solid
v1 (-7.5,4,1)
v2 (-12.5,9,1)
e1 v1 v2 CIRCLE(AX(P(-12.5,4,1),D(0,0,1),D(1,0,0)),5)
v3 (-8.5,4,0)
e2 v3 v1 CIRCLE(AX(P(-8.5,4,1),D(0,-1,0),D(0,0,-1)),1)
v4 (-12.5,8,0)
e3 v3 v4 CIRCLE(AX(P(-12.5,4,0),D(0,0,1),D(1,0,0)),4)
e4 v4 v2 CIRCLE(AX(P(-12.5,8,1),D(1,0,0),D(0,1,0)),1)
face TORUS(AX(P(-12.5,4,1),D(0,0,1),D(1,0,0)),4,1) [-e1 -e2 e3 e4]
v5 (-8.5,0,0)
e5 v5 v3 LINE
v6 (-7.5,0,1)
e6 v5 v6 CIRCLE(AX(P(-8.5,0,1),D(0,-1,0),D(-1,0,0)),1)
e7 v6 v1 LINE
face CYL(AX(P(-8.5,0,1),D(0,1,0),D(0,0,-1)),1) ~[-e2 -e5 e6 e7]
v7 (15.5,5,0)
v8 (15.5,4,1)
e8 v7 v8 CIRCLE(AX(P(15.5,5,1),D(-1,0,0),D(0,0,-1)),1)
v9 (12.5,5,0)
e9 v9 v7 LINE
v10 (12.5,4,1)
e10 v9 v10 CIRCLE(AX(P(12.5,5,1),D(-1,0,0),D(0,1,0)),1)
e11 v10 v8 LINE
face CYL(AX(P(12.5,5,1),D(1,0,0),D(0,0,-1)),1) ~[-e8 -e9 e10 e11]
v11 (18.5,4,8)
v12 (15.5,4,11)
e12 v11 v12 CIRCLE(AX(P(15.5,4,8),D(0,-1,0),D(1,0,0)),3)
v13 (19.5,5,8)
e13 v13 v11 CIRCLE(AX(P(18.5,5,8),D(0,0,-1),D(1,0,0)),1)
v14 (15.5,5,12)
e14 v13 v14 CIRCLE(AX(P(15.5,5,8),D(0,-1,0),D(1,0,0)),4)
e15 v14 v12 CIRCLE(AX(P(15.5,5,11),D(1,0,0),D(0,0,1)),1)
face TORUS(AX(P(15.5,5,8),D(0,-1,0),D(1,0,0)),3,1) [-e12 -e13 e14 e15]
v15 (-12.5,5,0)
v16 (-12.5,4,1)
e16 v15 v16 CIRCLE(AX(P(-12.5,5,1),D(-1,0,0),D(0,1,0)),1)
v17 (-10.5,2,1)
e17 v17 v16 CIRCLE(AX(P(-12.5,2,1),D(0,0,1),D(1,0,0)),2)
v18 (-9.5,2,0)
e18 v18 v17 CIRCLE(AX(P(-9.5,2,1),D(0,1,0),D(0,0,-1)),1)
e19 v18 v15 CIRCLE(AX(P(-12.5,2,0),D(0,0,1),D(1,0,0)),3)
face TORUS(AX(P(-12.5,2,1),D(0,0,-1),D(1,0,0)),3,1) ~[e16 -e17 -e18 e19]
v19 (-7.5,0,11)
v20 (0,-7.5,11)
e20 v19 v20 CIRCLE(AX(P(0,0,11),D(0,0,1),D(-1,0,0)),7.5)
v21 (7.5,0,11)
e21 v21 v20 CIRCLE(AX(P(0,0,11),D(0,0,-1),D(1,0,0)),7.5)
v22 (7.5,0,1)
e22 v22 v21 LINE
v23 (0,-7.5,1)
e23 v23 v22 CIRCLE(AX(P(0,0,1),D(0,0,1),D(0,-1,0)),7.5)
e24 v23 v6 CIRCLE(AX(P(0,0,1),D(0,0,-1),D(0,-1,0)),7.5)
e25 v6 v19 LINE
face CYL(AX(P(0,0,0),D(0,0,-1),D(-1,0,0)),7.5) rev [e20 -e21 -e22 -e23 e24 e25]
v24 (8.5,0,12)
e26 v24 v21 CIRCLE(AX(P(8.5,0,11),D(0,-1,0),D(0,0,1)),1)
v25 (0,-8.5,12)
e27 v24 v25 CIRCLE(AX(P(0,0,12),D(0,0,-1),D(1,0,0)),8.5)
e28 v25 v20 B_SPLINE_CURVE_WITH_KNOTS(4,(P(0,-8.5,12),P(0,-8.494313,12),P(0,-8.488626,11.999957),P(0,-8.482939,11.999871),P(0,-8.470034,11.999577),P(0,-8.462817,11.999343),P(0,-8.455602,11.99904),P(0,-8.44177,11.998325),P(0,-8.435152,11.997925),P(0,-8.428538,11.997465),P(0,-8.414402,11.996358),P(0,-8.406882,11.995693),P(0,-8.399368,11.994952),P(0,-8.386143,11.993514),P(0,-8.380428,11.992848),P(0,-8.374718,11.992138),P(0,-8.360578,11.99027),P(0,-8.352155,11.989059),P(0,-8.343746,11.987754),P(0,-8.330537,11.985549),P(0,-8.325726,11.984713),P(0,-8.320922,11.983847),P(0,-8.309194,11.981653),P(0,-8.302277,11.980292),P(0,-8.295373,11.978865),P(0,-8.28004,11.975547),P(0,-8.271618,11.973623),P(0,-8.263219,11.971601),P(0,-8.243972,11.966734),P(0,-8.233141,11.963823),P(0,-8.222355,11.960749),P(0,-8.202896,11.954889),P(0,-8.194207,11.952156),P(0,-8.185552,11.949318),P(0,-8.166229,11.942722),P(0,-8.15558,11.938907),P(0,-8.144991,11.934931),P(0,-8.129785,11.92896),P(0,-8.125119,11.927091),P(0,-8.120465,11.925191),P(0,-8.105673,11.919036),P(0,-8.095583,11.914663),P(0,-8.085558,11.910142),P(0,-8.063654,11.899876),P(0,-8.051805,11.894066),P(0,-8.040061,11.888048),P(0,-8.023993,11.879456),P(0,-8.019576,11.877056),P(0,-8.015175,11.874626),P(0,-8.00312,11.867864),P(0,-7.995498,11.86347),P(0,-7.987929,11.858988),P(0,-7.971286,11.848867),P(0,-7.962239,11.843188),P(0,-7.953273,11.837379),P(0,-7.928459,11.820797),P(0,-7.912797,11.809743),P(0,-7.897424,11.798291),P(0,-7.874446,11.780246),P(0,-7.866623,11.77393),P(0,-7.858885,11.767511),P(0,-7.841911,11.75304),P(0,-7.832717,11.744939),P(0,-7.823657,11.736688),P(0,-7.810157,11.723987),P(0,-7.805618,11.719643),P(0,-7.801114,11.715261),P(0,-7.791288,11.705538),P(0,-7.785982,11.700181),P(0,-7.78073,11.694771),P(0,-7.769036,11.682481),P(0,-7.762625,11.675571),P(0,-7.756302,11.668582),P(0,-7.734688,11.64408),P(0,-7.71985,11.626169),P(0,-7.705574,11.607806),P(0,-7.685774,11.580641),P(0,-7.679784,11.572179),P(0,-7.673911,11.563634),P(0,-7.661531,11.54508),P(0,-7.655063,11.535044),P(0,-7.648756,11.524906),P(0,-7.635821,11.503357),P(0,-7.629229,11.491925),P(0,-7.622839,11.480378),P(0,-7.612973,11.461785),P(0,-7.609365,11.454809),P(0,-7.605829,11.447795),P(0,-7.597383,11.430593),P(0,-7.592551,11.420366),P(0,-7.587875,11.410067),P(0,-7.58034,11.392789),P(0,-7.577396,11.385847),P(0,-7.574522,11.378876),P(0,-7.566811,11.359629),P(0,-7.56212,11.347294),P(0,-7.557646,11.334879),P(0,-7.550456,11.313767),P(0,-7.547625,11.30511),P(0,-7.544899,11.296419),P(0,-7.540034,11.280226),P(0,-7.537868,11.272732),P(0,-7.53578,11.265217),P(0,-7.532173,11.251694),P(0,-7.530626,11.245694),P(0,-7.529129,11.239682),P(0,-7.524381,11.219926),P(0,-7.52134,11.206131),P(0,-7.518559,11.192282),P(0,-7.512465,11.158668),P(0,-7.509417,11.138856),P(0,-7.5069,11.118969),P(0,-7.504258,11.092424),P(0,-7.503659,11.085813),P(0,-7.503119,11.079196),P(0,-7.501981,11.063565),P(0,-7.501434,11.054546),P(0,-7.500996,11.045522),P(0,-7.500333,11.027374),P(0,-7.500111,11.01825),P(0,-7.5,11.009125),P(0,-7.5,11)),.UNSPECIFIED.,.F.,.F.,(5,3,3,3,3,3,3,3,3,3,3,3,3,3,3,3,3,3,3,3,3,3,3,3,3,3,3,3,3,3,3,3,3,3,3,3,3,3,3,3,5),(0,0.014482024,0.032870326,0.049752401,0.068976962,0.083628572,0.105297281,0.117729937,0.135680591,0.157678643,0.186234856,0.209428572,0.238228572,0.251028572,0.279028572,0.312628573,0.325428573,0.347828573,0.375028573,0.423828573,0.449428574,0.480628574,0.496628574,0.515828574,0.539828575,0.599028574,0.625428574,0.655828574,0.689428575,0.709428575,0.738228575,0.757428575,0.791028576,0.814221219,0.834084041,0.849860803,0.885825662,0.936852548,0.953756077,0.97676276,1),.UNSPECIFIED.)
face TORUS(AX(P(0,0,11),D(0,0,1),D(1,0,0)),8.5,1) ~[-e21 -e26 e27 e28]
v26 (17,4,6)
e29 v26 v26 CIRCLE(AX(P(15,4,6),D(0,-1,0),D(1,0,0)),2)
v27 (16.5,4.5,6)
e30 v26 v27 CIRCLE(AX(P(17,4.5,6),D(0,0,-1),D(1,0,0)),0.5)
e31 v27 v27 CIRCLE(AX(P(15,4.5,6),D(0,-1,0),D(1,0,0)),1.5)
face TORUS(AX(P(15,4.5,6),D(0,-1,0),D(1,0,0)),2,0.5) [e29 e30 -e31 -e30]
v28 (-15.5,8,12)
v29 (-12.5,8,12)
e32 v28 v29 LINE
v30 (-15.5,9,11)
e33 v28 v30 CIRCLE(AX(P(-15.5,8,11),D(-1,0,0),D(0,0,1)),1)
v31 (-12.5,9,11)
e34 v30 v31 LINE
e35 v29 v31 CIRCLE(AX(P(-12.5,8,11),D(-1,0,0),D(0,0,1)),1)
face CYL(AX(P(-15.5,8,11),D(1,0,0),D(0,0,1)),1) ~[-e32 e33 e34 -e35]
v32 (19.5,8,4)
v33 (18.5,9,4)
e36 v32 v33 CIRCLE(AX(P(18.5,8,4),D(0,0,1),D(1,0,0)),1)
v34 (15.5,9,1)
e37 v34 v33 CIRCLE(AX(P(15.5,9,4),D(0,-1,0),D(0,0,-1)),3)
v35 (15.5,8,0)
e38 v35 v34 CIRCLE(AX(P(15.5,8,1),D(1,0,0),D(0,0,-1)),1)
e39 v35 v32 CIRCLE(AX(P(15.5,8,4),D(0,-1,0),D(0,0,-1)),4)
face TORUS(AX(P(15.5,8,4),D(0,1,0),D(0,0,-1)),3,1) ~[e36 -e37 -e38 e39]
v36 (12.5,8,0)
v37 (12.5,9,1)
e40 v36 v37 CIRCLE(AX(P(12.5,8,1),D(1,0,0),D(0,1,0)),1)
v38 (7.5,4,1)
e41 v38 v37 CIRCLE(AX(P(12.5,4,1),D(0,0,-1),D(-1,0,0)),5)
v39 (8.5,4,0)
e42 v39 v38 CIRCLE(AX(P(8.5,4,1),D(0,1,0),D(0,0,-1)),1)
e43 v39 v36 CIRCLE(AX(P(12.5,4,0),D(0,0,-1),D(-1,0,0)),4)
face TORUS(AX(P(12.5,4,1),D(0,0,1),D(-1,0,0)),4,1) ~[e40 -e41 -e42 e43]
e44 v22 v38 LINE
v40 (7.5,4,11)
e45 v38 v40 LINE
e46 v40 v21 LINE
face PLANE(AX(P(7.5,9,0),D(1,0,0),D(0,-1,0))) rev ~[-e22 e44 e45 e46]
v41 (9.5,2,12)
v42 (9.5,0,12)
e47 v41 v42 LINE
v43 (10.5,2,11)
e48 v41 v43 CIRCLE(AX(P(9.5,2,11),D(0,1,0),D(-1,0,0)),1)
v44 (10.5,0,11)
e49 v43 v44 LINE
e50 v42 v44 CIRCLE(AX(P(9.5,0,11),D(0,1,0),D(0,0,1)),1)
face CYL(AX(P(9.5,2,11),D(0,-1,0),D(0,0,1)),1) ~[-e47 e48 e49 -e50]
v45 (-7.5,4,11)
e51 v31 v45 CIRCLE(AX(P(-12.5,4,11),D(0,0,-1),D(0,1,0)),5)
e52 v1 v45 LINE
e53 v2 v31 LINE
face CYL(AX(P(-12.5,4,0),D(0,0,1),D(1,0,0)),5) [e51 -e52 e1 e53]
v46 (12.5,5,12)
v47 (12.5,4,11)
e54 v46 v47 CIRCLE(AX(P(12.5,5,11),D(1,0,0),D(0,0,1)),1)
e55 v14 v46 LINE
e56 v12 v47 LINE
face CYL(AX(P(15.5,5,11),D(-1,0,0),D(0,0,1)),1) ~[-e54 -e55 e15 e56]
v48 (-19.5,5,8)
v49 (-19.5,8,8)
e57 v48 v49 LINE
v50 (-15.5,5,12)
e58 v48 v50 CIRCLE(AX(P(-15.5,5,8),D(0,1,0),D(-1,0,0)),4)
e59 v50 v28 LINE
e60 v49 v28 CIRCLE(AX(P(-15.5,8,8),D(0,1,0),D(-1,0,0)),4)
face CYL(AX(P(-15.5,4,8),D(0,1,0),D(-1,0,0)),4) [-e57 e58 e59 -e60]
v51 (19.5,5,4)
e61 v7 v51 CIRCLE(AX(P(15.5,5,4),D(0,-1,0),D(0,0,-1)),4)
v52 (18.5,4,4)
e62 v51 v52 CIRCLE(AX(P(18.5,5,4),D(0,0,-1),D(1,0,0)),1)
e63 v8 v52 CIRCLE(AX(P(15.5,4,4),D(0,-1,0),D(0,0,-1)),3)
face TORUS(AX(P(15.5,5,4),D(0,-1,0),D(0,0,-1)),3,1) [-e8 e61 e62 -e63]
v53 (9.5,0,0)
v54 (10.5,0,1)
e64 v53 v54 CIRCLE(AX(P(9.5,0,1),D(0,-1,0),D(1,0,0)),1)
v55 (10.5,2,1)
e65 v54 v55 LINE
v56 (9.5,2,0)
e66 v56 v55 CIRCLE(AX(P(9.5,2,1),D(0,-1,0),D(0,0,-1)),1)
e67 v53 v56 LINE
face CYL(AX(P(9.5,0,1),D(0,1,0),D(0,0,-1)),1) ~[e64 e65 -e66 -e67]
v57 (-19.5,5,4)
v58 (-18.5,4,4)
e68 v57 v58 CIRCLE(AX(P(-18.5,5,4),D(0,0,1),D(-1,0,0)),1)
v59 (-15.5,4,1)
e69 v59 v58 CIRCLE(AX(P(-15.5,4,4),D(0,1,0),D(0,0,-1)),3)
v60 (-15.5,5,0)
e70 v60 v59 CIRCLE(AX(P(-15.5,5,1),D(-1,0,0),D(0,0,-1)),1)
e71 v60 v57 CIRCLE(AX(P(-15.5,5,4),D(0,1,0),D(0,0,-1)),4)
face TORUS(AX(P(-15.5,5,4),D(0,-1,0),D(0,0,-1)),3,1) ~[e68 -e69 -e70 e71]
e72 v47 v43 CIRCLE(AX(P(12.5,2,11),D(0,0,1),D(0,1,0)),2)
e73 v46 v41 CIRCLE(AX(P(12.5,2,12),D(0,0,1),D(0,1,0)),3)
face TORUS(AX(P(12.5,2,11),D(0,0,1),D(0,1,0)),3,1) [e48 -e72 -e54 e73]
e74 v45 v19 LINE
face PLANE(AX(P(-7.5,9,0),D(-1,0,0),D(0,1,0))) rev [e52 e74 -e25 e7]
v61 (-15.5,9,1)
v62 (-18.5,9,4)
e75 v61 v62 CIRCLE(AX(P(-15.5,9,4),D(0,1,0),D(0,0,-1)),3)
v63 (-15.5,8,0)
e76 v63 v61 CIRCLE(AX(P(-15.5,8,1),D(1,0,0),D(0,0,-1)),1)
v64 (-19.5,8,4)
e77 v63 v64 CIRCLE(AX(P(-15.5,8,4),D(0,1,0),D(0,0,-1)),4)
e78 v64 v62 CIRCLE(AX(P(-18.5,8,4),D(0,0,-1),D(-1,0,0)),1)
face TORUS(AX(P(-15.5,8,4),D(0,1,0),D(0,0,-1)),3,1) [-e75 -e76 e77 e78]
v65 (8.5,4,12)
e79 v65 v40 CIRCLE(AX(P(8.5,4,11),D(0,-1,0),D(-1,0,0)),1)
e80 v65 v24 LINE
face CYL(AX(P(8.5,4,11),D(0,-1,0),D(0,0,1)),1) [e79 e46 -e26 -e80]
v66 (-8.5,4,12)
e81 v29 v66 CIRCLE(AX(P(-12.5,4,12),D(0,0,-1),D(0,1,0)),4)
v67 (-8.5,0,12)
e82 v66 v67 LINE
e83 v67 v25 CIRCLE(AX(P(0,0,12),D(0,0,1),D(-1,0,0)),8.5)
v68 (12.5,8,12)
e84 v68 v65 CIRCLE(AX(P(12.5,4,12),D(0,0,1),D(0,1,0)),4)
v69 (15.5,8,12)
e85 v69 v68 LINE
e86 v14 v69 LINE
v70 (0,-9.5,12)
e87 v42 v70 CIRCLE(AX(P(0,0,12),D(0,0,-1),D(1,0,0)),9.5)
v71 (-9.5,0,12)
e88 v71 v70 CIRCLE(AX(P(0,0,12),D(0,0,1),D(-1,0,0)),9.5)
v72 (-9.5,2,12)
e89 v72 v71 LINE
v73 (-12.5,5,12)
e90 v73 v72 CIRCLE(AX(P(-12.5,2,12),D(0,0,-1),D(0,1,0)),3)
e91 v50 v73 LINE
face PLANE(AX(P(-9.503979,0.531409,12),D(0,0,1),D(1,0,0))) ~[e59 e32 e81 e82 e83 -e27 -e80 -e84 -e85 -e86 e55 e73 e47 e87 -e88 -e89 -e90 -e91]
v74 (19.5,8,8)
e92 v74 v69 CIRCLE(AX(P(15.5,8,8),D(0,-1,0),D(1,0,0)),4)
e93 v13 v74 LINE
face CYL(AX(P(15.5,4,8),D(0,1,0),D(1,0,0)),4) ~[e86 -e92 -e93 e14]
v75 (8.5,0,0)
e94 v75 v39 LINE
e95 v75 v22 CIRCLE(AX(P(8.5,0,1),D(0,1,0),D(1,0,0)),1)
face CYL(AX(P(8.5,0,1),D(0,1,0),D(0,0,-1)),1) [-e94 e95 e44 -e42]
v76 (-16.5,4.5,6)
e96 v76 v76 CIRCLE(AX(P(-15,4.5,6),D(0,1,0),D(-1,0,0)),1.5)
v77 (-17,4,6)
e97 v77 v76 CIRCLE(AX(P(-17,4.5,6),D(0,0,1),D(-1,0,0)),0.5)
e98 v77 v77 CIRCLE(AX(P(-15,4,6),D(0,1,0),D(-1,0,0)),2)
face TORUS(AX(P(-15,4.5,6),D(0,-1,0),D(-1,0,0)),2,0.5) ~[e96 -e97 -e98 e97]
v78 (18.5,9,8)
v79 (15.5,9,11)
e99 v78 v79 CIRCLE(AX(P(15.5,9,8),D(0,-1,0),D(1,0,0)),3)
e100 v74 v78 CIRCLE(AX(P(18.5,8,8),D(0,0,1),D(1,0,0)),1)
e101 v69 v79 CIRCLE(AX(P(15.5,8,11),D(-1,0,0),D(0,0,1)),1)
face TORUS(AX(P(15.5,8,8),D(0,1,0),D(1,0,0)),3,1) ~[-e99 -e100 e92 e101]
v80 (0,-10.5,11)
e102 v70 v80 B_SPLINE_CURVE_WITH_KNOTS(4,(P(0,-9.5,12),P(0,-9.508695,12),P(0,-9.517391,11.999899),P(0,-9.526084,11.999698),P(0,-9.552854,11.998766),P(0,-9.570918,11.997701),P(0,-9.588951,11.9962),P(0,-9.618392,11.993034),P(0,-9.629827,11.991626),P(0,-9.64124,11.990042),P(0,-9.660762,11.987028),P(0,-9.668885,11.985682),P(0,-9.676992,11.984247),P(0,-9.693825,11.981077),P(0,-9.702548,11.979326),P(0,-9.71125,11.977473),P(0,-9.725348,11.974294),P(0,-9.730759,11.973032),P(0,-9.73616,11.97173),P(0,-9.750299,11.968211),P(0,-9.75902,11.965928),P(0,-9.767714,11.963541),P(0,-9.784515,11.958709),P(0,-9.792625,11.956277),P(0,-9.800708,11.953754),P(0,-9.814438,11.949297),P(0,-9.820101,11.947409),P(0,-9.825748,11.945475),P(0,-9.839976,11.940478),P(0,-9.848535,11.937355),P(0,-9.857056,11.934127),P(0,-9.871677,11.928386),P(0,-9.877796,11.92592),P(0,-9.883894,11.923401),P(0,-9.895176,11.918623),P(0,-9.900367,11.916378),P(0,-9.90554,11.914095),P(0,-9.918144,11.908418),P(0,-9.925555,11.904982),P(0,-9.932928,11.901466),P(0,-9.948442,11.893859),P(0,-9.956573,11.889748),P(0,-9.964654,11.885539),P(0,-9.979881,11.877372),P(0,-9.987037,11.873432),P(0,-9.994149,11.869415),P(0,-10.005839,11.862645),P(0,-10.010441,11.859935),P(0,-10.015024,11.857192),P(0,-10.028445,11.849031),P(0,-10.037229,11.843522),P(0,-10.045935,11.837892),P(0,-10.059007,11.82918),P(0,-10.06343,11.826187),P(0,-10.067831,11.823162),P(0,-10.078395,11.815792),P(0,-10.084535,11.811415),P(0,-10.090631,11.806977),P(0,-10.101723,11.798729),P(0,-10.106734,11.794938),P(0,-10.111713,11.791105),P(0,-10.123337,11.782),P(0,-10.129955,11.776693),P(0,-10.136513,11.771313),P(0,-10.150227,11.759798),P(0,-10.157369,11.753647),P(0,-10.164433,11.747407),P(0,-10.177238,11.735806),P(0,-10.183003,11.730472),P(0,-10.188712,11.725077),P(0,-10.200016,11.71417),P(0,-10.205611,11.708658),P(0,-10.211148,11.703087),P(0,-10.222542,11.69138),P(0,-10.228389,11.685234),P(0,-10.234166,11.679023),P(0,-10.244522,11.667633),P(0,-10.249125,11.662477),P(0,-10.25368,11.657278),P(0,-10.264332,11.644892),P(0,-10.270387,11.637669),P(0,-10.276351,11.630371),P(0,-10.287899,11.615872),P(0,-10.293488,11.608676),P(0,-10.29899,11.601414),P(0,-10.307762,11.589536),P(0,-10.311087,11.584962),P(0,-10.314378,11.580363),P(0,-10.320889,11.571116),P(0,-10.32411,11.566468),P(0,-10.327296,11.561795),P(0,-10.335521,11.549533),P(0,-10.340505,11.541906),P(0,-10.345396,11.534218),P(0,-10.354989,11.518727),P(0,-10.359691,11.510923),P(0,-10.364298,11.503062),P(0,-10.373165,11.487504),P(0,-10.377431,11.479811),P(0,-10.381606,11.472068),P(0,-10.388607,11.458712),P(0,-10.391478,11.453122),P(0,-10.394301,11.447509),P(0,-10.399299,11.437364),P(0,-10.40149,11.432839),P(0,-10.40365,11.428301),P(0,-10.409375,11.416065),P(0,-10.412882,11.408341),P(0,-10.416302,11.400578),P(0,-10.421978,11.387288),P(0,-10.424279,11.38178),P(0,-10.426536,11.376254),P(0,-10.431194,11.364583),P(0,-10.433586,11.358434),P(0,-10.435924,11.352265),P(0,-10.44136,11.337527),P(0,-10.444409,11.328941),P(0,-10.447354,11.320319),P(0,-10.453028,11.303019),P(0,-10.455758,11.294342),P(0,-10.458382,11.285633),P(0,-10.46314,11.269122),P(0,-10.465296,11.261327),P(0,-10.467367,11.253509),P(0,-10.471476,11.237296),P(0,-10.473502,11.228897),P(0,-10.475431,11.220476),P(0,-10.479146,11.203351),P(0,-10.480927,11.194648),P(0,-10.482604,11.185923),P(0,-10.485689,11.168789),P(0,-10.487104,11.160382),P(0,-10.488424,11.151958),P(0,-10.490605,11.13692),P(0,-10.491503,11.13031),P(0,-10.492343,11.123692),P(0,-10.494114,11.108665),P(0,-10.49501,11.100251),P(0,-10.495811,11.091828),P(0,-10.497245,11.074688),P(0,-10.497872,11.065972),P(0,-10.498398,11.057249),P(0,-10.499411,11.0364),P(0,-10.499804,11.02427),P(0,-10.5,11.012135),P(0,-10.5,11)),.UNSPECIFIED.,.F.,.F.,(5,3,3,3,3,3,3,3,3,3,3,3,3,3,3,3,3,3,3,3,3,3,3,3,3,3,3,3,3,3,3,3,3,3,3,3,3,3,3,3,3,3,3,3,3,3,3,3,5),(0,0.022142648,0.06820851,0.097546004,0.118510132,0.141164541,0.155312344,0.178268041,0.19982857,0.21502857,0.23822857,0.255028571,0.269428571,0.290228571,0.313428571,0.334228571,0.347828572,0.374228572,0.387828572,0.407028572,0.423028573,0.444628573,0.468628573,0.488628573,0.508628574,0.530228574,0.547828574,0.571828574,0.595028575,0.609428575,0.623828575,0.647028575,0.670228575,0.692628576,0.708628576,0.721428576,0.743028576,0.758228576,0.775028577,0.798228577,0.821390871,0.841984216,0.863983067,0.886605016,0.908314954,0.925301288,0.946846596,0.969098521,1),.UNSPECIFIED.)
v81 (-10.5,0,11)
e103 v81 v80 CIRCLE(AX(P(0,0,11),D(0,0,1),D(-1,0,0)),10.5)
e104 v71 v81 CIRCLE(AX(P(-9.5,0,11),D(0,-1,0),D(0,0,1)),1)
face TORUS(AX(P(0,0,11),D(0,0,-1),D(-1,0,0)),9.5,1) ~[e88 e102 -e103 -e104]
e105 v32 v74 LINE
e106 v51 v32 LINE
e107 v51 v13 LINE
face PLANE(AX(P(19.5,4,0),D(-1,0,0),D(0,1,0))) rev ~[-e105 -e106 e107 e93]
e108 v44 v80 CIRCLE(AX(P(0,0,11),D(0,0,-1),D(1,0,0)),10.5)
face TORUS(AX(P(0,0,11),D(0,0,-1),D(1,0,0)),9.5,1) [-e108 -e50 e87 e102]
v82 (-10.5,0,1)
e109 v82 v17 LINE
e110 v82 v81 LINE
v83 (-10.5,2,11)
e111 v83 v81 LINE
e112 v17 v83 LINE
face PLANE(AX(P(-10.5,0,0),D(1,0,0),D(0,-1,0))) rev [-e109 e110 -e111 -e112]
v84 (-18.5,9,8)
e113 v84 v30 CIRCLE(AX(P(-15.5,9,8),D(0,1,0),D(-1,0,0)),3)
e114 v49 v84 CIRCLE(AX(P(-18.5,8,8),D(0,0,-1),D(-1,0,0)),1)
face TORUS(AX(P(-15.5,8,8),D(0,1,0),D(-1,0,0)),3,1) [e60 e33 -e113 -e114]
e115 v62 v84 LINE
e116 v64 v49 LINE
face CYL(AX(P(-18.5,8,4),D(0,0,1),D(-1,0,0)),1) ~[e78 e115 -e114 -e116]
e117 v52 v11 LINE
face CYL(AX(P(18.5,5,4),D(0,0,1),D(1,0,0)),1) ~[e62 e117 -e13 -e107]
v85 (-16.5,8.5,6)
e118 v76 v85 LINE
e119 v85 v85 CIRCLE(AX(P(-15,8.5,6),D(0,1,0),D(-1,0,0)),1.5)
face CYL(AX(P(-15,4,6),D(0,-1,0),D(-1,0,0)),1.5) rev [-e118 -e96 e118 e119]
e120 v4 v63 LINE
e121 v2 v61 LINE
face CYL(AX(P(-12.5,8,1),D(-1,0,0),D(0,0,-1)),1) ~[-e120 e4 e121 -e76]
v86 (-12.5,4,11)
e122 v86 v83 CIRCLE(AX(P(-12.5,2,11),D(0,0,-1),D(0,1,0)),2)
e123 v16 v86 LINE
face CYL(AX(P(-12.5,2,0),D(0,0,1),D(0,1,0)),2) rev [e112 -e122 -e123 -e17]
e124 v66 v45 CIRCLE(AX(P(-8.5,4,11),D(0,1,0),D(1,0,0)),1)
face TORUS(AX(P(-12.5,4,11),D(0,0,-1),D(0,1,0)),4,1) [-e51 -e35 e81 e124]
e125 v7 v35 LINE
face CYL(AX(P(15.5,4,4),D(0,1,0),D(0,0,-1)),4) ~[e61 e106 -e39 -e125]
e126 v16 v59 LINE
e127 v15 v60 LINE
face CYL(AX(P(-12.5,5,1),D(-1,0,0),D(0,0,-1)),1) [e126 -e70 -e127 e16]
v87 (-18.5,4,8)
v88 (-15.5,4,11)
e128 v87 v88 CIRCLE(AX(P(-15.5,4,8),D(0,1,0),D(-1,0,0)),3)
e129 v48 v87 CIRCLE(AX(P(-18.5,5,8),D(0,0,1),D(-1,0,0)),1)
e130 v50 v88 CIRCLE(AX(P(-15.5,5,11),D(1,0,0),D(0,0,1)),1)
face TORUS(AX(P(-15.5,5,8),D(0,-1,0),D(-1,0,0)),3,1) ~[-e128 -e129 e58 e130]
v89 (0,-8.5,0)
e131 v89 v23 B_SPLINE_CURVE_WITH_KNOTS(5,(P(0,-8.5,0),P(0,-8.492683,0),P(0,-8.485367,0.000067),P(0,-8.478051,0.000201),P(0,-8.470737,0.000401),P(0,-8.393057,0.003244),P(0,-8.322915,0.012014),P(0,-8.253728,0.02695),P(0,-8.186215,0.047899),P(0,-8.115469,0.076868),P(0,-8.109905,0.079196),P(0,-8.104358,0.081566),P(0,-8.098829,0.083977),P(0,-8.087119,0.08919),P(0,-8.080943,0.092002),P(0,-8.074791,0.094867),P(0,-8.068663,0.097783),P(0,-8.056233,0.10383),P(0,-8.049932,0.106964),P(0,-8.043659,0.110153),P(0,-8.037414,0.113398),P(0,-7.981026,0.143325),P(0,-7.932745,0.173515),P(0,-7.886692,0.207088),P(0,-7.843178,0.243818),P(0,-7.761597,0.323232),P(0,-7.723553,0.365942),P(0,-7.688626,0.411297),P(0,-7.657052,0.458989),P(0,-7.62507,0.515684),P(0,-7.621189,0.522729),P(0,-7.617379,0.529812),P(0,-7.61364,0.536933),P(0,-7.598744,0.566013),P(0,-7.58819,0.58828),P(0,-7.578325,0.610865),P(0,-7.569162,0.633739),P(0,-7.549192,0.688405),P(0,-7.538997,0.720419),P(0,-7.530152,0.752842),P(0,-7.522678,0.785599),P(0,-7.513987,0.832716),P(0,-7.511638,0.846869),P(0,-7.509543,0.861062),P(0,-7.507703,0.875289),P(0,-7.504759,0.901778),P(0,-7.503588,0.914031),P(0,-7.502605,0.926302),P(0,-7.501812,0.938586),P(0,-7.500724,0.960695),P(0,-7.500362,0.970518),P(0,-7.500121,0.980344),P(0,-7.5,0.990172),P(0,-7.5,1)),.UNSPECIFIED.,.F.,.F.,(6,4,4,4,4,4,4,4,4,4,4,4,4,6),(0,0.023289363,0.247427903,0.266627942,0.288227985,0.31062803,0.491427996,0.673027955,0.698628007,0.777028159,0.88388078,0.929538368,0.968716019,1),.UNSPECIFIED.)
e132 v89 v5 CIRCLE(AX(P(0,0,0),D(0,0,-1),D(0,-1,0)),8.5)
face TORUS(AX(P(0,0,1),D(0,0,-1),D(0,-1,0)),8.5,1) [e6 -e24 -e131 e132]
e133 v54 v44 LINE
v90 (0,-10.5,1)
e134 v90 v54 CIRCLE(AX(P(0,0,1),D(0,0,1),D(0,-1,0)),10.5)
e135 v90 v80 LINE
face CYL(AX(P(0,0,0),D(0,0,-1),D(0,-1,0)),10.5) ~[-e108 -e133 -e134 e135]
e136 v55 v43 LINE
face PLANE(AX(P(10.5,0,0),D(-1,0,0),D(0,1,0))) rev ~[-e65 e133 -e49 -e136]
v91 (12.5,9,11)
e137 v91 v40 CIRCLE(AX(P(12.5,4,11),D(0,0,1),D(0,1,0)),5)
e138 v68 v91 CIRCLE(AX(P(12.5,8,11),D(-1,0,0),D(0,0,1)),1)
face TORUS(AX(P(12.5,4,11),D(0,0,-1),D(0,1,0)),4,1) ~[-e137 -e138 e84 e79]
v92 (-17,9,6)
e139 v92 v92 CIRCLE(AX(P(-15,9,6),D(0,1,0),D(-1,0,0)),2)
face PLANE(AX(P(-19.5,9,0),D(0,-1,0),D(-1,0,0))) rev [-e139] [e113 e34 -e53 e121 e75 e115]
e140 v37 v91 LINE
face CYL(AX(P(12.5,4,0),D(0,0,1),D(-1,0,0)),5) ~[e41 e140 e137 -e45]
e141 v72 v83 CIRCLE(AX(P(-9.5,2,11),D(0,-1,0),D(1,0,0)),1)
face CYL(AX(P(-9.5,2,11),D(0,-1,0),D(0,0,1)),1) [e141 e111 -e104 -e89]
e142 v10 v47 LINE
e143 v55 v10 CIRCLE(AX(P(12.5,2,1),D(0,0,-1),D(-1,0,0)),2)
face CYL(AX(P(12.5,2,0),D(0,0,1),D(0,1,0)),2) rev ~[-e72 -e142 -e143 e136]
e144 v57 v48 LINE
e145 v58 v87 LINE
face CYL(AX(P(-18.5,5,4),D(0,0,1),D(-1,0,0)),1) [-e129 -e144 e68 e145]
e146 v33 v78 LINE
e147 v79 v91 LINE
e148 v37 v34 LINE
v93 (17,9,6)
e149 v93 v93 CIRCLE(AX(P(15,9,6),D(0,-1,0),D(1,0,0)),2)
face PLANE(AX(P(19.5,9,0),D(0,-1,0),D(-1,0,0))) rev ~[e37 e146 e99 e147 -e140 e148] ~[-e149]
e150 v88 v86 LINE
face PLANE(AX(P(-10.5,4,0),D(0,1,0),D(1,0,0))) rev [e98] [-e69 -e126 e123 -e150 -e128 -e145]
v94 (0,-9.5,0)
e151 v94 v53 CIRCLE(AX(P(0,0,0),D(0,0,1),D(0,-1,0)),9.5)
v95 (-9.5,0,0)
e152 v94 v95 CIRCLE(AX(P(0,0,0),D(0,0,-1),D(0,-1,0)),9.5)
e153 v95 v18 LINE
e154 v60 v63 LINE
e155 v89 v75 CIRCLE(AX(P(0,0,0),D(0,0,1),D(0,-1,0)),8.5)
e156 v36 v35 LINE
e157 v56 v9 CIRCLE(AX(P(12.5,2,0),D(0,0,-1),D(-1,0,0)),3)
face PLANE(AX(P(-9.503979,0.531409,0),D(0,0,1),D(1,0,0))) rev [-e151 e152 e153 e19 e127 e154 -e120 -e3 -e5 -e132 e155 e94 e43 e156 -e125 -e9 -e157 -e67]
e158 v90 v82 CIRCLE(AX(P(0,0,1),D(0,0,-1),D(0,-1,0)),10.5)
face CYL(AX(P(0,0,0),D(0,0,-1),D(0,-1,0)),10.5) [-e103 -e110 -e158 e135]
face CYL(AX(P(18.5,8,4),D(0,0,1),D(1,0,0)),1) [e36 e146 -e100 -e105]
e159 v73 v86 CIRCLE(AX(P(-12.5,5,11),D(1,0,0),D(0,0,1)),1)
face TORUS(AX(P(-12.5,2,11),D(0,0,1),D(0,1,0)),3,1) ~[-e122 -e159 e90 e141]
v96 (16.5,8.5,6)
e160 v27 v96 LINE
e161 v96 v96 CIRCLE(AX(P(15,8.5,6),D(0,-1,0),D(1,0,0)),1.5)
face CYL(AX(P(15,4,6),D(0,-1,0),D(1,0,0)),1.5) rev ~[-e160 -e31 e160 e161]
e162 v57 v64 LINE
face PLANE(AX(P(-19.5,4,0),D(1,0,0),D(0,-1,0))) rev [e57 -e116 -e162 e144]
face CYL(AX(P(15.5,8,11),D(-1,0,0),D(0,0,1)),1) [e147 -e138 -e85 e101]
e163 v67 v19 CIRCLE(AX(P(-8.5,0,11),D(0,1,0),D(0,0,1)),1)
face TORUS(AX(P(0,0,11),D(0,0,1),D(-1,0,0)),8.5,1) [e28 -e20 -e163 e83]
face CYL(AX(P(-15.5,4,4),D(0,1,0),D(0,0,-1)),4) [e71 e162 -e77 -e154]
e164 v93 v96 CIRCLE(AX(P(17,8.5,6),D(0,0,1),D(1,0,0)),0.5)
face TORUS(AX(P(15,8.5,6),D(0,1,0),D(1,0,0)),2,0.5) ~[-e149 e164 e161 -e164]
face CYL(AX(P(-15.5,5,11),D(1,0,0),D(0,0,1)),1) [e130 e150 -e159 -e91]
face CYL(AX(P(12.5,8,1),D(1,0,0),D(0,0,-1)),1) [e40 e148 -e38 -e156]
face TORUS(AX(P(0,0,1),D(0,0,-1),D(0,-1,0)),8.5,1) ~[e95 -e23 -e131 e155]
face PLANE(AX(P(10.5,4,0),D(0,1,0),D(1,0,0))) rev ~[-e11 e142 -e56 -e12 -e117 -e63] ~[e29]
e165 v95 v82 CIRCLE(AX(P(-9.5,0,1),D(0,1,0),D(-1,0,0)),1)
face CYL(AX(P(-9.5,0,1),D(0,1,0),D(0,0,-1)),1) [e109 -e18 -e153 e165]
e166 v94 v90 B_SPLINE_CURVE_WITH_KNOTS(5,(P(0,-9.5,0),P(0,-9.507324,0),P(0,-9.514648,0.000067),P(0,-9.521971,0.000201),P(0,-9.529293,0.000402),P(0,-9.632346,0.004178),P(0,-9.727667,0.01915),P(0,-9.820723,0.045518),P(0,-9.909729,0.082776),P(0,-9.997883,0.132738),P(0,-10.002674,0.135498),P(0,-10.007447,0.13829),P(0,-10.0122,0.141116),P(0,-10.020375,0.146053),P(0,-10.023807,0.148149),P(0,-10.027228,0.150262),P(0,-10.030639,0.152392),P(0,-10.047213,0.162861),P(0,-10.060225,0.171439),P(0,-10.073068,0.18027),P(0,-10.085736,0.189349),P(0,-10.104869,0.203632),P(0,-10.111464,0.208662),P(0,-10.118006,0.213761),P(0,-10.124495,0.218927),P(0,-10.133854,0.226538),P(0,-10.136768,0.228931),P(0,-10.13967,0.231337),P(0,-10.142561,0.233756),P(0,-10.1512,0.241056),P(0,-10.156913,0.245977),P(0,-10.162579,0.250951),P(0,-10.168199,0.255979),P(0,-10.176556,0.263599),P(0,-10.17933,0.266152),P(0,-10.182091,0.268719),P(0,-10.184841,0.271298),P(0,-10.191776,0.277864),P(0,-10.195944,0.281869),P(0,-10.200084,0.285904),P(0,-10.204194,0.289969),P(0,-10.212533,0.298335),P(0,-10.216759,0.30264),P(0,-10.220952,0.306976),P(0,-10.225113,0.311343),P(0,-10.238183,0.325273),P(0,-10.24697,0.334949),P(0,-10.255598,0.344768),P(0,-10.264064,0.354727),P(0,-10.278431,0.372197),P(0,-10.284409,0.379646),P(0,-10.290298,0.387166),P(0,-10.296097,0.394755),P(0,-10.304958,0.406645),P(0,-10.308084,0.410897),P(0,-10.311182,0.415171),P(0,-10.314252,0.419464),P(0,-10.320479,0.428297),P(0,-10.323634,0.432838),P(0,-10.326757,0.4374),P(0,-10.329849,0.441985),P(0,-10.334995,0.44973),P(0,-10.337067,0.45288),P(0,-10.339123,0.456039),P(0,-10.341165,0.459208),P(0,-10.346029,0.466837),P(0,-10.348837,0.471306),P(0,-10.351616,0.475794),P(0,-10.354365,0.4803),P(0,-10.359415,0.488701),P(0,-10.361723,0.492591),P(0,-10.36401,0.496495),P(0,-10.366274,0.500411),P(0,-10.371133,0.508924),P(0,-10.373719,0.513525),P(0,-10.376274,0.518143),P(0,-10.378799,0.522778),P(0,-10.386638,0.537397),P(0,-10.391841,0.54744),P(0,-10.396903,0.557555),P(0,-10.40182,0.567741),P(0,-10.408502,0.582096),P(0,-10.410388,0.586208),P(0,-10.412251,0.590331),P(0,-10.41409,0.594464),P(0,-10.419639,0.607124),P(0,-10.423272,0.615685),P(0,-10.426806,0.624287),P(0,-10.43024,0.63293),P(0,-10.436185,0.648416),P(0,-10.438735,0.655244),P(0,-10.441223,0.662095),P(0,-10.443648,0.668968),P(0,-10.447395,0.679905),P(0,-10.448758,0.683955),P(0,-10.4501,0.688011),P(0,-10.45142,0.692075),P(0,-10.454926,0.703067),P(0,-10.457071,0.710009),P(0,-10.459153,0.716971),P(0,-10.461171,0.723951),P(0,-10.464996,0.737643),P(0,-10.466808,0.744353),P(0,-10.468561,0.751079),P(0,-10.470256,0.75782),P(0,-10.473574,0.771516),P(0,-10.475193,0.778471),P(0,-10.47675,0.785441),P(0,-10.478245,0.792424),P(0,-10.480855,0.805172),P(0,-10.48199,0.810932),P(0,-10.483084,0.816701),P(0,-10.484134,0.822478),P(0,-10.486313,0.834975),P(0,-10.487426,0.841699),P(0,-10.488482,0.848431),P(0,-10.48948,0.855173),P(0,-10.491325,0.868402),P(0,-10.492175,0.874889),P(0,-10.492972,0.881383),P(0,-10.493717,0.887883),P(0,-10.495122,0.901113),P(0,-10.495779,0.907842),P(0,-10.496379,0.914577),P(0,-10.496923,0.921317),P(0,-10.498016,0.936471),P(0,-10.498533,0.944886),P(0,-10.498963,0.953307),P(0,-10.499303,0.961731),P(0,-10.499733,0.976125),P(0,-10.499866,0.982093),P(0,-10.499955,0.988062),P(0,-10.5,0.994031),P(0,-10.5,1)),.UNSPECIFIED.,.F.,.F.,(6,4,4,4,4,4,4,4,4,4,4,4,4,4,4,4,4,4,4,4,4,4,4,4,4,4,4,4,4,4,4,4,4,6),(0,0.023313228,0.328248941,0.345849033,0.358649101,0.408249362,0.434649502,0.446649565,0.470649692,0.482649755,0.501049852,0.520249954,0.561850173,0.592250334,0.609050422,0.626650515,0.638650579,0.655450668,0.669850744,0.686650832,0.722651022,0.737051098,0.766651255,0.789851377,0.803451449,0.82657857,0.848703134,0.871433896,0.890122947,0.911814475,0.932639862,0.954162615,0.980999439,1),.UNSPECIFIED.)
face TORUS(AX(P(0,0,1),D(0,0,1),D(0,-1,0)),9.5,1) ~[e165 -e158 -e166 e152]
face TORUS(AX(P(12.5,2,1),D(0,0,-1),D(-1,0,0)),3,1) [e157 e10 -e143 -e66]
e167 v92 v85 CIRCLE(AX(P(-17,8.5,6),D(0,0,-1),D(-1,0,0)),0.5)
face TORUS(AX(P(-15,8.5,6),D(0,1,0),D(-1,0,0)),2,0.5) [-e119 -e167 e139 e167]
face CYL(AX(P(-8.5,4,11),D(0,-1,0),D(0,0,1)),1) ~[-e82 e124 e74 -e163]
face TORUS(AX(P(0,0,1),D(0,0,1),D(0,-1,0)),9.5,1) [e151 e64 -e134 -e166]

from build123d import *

# Parameters (mm, degrees)
F1_DEPTH = 12
F2_R     = 1.5
F3_DEPTH = 5.001
F4_R     = 5
F5_R     = 2
F6_R     = 4
F7_R     = 1
F8_R     = 0.5


with BuildPart() as f1:
    # F0 (on Top) → F1 (new body)
    with BuildSketch(Plane.XY):
        with BuildLine():
            ThreePointArc((7.5, 0), (5.3033008589, -5.3033008589), (0, -7.5))
            Line((0, -7.5), (0, -10.5))
            ThreePointArc((0, -10.5), (7.4246212025, -7.4246212025), (10.5, 0))
            Line((10.5, 0), (10.5, 4))
            Line((10.5, 4), (19.5, 4))
            Line((19.5, 4), (19.5, 9))
            Line((19.5, 9), (7.5, 9))
            Line((7.5, 9), (7.5, 0))
        make_face()
    extrude(amount=F1_DEPTH)

    # F2 (on face) → F3 (cut, through all)
    with BuildSketch(Plane.XZ.offset(-4)):
        with Locations((15, 6)):
            Circle(F2_R)
    extrude(amount=-F3_DEPTH, mode=Mode.SUBTRACT)

    # F4
    f4_edges = [f1.edges().sort_by_distance(p)[0] for p in [
        (7.5, 9, 6),
    ]]
    fillet(f4_edges, radius=F4_R)

    # F5
    f5_edges = [f1.edges().sort_by_distance(p)[0] for p in [
        (10.5, 4, 6),
    ]]
    fillet(f5_edges, radius=F5_R)

    # F6
    f6_edges = [f1.edges().sort_by_distance(p)[0] for p in [
        (19.5, 6.5, 0),
        (19.5, 6.5, 12),
    ]]
    fillet(f6_edges, radius=F6_R)

    # F7
    f7_edges = [f1.edges().sort_by_distance(p)[0] for p in [
        (7.424621, -7.424621, 0),
        (8.964466, 7.535534, 0),
    ]]
    fillet(f7_edges, radius=F7_R)

    # F8
    f8_edges = [f1.edges().sort_by_distance(p)[0] for p in [
        (13.5, 4, 6),
        (13.5, 9, 6),
    ]]
    fillet(f8_edges, radius=F8_R)

    # F9: F1 across face


with BuildPart() as f1_1:
    add(f1.part)
    add(f1.part.mirror(Plane(origin=(0, -9, 6), x_dir=(0, -1, 0), z_dir=(-1, 0, 0))))


solid = f1_1.part
